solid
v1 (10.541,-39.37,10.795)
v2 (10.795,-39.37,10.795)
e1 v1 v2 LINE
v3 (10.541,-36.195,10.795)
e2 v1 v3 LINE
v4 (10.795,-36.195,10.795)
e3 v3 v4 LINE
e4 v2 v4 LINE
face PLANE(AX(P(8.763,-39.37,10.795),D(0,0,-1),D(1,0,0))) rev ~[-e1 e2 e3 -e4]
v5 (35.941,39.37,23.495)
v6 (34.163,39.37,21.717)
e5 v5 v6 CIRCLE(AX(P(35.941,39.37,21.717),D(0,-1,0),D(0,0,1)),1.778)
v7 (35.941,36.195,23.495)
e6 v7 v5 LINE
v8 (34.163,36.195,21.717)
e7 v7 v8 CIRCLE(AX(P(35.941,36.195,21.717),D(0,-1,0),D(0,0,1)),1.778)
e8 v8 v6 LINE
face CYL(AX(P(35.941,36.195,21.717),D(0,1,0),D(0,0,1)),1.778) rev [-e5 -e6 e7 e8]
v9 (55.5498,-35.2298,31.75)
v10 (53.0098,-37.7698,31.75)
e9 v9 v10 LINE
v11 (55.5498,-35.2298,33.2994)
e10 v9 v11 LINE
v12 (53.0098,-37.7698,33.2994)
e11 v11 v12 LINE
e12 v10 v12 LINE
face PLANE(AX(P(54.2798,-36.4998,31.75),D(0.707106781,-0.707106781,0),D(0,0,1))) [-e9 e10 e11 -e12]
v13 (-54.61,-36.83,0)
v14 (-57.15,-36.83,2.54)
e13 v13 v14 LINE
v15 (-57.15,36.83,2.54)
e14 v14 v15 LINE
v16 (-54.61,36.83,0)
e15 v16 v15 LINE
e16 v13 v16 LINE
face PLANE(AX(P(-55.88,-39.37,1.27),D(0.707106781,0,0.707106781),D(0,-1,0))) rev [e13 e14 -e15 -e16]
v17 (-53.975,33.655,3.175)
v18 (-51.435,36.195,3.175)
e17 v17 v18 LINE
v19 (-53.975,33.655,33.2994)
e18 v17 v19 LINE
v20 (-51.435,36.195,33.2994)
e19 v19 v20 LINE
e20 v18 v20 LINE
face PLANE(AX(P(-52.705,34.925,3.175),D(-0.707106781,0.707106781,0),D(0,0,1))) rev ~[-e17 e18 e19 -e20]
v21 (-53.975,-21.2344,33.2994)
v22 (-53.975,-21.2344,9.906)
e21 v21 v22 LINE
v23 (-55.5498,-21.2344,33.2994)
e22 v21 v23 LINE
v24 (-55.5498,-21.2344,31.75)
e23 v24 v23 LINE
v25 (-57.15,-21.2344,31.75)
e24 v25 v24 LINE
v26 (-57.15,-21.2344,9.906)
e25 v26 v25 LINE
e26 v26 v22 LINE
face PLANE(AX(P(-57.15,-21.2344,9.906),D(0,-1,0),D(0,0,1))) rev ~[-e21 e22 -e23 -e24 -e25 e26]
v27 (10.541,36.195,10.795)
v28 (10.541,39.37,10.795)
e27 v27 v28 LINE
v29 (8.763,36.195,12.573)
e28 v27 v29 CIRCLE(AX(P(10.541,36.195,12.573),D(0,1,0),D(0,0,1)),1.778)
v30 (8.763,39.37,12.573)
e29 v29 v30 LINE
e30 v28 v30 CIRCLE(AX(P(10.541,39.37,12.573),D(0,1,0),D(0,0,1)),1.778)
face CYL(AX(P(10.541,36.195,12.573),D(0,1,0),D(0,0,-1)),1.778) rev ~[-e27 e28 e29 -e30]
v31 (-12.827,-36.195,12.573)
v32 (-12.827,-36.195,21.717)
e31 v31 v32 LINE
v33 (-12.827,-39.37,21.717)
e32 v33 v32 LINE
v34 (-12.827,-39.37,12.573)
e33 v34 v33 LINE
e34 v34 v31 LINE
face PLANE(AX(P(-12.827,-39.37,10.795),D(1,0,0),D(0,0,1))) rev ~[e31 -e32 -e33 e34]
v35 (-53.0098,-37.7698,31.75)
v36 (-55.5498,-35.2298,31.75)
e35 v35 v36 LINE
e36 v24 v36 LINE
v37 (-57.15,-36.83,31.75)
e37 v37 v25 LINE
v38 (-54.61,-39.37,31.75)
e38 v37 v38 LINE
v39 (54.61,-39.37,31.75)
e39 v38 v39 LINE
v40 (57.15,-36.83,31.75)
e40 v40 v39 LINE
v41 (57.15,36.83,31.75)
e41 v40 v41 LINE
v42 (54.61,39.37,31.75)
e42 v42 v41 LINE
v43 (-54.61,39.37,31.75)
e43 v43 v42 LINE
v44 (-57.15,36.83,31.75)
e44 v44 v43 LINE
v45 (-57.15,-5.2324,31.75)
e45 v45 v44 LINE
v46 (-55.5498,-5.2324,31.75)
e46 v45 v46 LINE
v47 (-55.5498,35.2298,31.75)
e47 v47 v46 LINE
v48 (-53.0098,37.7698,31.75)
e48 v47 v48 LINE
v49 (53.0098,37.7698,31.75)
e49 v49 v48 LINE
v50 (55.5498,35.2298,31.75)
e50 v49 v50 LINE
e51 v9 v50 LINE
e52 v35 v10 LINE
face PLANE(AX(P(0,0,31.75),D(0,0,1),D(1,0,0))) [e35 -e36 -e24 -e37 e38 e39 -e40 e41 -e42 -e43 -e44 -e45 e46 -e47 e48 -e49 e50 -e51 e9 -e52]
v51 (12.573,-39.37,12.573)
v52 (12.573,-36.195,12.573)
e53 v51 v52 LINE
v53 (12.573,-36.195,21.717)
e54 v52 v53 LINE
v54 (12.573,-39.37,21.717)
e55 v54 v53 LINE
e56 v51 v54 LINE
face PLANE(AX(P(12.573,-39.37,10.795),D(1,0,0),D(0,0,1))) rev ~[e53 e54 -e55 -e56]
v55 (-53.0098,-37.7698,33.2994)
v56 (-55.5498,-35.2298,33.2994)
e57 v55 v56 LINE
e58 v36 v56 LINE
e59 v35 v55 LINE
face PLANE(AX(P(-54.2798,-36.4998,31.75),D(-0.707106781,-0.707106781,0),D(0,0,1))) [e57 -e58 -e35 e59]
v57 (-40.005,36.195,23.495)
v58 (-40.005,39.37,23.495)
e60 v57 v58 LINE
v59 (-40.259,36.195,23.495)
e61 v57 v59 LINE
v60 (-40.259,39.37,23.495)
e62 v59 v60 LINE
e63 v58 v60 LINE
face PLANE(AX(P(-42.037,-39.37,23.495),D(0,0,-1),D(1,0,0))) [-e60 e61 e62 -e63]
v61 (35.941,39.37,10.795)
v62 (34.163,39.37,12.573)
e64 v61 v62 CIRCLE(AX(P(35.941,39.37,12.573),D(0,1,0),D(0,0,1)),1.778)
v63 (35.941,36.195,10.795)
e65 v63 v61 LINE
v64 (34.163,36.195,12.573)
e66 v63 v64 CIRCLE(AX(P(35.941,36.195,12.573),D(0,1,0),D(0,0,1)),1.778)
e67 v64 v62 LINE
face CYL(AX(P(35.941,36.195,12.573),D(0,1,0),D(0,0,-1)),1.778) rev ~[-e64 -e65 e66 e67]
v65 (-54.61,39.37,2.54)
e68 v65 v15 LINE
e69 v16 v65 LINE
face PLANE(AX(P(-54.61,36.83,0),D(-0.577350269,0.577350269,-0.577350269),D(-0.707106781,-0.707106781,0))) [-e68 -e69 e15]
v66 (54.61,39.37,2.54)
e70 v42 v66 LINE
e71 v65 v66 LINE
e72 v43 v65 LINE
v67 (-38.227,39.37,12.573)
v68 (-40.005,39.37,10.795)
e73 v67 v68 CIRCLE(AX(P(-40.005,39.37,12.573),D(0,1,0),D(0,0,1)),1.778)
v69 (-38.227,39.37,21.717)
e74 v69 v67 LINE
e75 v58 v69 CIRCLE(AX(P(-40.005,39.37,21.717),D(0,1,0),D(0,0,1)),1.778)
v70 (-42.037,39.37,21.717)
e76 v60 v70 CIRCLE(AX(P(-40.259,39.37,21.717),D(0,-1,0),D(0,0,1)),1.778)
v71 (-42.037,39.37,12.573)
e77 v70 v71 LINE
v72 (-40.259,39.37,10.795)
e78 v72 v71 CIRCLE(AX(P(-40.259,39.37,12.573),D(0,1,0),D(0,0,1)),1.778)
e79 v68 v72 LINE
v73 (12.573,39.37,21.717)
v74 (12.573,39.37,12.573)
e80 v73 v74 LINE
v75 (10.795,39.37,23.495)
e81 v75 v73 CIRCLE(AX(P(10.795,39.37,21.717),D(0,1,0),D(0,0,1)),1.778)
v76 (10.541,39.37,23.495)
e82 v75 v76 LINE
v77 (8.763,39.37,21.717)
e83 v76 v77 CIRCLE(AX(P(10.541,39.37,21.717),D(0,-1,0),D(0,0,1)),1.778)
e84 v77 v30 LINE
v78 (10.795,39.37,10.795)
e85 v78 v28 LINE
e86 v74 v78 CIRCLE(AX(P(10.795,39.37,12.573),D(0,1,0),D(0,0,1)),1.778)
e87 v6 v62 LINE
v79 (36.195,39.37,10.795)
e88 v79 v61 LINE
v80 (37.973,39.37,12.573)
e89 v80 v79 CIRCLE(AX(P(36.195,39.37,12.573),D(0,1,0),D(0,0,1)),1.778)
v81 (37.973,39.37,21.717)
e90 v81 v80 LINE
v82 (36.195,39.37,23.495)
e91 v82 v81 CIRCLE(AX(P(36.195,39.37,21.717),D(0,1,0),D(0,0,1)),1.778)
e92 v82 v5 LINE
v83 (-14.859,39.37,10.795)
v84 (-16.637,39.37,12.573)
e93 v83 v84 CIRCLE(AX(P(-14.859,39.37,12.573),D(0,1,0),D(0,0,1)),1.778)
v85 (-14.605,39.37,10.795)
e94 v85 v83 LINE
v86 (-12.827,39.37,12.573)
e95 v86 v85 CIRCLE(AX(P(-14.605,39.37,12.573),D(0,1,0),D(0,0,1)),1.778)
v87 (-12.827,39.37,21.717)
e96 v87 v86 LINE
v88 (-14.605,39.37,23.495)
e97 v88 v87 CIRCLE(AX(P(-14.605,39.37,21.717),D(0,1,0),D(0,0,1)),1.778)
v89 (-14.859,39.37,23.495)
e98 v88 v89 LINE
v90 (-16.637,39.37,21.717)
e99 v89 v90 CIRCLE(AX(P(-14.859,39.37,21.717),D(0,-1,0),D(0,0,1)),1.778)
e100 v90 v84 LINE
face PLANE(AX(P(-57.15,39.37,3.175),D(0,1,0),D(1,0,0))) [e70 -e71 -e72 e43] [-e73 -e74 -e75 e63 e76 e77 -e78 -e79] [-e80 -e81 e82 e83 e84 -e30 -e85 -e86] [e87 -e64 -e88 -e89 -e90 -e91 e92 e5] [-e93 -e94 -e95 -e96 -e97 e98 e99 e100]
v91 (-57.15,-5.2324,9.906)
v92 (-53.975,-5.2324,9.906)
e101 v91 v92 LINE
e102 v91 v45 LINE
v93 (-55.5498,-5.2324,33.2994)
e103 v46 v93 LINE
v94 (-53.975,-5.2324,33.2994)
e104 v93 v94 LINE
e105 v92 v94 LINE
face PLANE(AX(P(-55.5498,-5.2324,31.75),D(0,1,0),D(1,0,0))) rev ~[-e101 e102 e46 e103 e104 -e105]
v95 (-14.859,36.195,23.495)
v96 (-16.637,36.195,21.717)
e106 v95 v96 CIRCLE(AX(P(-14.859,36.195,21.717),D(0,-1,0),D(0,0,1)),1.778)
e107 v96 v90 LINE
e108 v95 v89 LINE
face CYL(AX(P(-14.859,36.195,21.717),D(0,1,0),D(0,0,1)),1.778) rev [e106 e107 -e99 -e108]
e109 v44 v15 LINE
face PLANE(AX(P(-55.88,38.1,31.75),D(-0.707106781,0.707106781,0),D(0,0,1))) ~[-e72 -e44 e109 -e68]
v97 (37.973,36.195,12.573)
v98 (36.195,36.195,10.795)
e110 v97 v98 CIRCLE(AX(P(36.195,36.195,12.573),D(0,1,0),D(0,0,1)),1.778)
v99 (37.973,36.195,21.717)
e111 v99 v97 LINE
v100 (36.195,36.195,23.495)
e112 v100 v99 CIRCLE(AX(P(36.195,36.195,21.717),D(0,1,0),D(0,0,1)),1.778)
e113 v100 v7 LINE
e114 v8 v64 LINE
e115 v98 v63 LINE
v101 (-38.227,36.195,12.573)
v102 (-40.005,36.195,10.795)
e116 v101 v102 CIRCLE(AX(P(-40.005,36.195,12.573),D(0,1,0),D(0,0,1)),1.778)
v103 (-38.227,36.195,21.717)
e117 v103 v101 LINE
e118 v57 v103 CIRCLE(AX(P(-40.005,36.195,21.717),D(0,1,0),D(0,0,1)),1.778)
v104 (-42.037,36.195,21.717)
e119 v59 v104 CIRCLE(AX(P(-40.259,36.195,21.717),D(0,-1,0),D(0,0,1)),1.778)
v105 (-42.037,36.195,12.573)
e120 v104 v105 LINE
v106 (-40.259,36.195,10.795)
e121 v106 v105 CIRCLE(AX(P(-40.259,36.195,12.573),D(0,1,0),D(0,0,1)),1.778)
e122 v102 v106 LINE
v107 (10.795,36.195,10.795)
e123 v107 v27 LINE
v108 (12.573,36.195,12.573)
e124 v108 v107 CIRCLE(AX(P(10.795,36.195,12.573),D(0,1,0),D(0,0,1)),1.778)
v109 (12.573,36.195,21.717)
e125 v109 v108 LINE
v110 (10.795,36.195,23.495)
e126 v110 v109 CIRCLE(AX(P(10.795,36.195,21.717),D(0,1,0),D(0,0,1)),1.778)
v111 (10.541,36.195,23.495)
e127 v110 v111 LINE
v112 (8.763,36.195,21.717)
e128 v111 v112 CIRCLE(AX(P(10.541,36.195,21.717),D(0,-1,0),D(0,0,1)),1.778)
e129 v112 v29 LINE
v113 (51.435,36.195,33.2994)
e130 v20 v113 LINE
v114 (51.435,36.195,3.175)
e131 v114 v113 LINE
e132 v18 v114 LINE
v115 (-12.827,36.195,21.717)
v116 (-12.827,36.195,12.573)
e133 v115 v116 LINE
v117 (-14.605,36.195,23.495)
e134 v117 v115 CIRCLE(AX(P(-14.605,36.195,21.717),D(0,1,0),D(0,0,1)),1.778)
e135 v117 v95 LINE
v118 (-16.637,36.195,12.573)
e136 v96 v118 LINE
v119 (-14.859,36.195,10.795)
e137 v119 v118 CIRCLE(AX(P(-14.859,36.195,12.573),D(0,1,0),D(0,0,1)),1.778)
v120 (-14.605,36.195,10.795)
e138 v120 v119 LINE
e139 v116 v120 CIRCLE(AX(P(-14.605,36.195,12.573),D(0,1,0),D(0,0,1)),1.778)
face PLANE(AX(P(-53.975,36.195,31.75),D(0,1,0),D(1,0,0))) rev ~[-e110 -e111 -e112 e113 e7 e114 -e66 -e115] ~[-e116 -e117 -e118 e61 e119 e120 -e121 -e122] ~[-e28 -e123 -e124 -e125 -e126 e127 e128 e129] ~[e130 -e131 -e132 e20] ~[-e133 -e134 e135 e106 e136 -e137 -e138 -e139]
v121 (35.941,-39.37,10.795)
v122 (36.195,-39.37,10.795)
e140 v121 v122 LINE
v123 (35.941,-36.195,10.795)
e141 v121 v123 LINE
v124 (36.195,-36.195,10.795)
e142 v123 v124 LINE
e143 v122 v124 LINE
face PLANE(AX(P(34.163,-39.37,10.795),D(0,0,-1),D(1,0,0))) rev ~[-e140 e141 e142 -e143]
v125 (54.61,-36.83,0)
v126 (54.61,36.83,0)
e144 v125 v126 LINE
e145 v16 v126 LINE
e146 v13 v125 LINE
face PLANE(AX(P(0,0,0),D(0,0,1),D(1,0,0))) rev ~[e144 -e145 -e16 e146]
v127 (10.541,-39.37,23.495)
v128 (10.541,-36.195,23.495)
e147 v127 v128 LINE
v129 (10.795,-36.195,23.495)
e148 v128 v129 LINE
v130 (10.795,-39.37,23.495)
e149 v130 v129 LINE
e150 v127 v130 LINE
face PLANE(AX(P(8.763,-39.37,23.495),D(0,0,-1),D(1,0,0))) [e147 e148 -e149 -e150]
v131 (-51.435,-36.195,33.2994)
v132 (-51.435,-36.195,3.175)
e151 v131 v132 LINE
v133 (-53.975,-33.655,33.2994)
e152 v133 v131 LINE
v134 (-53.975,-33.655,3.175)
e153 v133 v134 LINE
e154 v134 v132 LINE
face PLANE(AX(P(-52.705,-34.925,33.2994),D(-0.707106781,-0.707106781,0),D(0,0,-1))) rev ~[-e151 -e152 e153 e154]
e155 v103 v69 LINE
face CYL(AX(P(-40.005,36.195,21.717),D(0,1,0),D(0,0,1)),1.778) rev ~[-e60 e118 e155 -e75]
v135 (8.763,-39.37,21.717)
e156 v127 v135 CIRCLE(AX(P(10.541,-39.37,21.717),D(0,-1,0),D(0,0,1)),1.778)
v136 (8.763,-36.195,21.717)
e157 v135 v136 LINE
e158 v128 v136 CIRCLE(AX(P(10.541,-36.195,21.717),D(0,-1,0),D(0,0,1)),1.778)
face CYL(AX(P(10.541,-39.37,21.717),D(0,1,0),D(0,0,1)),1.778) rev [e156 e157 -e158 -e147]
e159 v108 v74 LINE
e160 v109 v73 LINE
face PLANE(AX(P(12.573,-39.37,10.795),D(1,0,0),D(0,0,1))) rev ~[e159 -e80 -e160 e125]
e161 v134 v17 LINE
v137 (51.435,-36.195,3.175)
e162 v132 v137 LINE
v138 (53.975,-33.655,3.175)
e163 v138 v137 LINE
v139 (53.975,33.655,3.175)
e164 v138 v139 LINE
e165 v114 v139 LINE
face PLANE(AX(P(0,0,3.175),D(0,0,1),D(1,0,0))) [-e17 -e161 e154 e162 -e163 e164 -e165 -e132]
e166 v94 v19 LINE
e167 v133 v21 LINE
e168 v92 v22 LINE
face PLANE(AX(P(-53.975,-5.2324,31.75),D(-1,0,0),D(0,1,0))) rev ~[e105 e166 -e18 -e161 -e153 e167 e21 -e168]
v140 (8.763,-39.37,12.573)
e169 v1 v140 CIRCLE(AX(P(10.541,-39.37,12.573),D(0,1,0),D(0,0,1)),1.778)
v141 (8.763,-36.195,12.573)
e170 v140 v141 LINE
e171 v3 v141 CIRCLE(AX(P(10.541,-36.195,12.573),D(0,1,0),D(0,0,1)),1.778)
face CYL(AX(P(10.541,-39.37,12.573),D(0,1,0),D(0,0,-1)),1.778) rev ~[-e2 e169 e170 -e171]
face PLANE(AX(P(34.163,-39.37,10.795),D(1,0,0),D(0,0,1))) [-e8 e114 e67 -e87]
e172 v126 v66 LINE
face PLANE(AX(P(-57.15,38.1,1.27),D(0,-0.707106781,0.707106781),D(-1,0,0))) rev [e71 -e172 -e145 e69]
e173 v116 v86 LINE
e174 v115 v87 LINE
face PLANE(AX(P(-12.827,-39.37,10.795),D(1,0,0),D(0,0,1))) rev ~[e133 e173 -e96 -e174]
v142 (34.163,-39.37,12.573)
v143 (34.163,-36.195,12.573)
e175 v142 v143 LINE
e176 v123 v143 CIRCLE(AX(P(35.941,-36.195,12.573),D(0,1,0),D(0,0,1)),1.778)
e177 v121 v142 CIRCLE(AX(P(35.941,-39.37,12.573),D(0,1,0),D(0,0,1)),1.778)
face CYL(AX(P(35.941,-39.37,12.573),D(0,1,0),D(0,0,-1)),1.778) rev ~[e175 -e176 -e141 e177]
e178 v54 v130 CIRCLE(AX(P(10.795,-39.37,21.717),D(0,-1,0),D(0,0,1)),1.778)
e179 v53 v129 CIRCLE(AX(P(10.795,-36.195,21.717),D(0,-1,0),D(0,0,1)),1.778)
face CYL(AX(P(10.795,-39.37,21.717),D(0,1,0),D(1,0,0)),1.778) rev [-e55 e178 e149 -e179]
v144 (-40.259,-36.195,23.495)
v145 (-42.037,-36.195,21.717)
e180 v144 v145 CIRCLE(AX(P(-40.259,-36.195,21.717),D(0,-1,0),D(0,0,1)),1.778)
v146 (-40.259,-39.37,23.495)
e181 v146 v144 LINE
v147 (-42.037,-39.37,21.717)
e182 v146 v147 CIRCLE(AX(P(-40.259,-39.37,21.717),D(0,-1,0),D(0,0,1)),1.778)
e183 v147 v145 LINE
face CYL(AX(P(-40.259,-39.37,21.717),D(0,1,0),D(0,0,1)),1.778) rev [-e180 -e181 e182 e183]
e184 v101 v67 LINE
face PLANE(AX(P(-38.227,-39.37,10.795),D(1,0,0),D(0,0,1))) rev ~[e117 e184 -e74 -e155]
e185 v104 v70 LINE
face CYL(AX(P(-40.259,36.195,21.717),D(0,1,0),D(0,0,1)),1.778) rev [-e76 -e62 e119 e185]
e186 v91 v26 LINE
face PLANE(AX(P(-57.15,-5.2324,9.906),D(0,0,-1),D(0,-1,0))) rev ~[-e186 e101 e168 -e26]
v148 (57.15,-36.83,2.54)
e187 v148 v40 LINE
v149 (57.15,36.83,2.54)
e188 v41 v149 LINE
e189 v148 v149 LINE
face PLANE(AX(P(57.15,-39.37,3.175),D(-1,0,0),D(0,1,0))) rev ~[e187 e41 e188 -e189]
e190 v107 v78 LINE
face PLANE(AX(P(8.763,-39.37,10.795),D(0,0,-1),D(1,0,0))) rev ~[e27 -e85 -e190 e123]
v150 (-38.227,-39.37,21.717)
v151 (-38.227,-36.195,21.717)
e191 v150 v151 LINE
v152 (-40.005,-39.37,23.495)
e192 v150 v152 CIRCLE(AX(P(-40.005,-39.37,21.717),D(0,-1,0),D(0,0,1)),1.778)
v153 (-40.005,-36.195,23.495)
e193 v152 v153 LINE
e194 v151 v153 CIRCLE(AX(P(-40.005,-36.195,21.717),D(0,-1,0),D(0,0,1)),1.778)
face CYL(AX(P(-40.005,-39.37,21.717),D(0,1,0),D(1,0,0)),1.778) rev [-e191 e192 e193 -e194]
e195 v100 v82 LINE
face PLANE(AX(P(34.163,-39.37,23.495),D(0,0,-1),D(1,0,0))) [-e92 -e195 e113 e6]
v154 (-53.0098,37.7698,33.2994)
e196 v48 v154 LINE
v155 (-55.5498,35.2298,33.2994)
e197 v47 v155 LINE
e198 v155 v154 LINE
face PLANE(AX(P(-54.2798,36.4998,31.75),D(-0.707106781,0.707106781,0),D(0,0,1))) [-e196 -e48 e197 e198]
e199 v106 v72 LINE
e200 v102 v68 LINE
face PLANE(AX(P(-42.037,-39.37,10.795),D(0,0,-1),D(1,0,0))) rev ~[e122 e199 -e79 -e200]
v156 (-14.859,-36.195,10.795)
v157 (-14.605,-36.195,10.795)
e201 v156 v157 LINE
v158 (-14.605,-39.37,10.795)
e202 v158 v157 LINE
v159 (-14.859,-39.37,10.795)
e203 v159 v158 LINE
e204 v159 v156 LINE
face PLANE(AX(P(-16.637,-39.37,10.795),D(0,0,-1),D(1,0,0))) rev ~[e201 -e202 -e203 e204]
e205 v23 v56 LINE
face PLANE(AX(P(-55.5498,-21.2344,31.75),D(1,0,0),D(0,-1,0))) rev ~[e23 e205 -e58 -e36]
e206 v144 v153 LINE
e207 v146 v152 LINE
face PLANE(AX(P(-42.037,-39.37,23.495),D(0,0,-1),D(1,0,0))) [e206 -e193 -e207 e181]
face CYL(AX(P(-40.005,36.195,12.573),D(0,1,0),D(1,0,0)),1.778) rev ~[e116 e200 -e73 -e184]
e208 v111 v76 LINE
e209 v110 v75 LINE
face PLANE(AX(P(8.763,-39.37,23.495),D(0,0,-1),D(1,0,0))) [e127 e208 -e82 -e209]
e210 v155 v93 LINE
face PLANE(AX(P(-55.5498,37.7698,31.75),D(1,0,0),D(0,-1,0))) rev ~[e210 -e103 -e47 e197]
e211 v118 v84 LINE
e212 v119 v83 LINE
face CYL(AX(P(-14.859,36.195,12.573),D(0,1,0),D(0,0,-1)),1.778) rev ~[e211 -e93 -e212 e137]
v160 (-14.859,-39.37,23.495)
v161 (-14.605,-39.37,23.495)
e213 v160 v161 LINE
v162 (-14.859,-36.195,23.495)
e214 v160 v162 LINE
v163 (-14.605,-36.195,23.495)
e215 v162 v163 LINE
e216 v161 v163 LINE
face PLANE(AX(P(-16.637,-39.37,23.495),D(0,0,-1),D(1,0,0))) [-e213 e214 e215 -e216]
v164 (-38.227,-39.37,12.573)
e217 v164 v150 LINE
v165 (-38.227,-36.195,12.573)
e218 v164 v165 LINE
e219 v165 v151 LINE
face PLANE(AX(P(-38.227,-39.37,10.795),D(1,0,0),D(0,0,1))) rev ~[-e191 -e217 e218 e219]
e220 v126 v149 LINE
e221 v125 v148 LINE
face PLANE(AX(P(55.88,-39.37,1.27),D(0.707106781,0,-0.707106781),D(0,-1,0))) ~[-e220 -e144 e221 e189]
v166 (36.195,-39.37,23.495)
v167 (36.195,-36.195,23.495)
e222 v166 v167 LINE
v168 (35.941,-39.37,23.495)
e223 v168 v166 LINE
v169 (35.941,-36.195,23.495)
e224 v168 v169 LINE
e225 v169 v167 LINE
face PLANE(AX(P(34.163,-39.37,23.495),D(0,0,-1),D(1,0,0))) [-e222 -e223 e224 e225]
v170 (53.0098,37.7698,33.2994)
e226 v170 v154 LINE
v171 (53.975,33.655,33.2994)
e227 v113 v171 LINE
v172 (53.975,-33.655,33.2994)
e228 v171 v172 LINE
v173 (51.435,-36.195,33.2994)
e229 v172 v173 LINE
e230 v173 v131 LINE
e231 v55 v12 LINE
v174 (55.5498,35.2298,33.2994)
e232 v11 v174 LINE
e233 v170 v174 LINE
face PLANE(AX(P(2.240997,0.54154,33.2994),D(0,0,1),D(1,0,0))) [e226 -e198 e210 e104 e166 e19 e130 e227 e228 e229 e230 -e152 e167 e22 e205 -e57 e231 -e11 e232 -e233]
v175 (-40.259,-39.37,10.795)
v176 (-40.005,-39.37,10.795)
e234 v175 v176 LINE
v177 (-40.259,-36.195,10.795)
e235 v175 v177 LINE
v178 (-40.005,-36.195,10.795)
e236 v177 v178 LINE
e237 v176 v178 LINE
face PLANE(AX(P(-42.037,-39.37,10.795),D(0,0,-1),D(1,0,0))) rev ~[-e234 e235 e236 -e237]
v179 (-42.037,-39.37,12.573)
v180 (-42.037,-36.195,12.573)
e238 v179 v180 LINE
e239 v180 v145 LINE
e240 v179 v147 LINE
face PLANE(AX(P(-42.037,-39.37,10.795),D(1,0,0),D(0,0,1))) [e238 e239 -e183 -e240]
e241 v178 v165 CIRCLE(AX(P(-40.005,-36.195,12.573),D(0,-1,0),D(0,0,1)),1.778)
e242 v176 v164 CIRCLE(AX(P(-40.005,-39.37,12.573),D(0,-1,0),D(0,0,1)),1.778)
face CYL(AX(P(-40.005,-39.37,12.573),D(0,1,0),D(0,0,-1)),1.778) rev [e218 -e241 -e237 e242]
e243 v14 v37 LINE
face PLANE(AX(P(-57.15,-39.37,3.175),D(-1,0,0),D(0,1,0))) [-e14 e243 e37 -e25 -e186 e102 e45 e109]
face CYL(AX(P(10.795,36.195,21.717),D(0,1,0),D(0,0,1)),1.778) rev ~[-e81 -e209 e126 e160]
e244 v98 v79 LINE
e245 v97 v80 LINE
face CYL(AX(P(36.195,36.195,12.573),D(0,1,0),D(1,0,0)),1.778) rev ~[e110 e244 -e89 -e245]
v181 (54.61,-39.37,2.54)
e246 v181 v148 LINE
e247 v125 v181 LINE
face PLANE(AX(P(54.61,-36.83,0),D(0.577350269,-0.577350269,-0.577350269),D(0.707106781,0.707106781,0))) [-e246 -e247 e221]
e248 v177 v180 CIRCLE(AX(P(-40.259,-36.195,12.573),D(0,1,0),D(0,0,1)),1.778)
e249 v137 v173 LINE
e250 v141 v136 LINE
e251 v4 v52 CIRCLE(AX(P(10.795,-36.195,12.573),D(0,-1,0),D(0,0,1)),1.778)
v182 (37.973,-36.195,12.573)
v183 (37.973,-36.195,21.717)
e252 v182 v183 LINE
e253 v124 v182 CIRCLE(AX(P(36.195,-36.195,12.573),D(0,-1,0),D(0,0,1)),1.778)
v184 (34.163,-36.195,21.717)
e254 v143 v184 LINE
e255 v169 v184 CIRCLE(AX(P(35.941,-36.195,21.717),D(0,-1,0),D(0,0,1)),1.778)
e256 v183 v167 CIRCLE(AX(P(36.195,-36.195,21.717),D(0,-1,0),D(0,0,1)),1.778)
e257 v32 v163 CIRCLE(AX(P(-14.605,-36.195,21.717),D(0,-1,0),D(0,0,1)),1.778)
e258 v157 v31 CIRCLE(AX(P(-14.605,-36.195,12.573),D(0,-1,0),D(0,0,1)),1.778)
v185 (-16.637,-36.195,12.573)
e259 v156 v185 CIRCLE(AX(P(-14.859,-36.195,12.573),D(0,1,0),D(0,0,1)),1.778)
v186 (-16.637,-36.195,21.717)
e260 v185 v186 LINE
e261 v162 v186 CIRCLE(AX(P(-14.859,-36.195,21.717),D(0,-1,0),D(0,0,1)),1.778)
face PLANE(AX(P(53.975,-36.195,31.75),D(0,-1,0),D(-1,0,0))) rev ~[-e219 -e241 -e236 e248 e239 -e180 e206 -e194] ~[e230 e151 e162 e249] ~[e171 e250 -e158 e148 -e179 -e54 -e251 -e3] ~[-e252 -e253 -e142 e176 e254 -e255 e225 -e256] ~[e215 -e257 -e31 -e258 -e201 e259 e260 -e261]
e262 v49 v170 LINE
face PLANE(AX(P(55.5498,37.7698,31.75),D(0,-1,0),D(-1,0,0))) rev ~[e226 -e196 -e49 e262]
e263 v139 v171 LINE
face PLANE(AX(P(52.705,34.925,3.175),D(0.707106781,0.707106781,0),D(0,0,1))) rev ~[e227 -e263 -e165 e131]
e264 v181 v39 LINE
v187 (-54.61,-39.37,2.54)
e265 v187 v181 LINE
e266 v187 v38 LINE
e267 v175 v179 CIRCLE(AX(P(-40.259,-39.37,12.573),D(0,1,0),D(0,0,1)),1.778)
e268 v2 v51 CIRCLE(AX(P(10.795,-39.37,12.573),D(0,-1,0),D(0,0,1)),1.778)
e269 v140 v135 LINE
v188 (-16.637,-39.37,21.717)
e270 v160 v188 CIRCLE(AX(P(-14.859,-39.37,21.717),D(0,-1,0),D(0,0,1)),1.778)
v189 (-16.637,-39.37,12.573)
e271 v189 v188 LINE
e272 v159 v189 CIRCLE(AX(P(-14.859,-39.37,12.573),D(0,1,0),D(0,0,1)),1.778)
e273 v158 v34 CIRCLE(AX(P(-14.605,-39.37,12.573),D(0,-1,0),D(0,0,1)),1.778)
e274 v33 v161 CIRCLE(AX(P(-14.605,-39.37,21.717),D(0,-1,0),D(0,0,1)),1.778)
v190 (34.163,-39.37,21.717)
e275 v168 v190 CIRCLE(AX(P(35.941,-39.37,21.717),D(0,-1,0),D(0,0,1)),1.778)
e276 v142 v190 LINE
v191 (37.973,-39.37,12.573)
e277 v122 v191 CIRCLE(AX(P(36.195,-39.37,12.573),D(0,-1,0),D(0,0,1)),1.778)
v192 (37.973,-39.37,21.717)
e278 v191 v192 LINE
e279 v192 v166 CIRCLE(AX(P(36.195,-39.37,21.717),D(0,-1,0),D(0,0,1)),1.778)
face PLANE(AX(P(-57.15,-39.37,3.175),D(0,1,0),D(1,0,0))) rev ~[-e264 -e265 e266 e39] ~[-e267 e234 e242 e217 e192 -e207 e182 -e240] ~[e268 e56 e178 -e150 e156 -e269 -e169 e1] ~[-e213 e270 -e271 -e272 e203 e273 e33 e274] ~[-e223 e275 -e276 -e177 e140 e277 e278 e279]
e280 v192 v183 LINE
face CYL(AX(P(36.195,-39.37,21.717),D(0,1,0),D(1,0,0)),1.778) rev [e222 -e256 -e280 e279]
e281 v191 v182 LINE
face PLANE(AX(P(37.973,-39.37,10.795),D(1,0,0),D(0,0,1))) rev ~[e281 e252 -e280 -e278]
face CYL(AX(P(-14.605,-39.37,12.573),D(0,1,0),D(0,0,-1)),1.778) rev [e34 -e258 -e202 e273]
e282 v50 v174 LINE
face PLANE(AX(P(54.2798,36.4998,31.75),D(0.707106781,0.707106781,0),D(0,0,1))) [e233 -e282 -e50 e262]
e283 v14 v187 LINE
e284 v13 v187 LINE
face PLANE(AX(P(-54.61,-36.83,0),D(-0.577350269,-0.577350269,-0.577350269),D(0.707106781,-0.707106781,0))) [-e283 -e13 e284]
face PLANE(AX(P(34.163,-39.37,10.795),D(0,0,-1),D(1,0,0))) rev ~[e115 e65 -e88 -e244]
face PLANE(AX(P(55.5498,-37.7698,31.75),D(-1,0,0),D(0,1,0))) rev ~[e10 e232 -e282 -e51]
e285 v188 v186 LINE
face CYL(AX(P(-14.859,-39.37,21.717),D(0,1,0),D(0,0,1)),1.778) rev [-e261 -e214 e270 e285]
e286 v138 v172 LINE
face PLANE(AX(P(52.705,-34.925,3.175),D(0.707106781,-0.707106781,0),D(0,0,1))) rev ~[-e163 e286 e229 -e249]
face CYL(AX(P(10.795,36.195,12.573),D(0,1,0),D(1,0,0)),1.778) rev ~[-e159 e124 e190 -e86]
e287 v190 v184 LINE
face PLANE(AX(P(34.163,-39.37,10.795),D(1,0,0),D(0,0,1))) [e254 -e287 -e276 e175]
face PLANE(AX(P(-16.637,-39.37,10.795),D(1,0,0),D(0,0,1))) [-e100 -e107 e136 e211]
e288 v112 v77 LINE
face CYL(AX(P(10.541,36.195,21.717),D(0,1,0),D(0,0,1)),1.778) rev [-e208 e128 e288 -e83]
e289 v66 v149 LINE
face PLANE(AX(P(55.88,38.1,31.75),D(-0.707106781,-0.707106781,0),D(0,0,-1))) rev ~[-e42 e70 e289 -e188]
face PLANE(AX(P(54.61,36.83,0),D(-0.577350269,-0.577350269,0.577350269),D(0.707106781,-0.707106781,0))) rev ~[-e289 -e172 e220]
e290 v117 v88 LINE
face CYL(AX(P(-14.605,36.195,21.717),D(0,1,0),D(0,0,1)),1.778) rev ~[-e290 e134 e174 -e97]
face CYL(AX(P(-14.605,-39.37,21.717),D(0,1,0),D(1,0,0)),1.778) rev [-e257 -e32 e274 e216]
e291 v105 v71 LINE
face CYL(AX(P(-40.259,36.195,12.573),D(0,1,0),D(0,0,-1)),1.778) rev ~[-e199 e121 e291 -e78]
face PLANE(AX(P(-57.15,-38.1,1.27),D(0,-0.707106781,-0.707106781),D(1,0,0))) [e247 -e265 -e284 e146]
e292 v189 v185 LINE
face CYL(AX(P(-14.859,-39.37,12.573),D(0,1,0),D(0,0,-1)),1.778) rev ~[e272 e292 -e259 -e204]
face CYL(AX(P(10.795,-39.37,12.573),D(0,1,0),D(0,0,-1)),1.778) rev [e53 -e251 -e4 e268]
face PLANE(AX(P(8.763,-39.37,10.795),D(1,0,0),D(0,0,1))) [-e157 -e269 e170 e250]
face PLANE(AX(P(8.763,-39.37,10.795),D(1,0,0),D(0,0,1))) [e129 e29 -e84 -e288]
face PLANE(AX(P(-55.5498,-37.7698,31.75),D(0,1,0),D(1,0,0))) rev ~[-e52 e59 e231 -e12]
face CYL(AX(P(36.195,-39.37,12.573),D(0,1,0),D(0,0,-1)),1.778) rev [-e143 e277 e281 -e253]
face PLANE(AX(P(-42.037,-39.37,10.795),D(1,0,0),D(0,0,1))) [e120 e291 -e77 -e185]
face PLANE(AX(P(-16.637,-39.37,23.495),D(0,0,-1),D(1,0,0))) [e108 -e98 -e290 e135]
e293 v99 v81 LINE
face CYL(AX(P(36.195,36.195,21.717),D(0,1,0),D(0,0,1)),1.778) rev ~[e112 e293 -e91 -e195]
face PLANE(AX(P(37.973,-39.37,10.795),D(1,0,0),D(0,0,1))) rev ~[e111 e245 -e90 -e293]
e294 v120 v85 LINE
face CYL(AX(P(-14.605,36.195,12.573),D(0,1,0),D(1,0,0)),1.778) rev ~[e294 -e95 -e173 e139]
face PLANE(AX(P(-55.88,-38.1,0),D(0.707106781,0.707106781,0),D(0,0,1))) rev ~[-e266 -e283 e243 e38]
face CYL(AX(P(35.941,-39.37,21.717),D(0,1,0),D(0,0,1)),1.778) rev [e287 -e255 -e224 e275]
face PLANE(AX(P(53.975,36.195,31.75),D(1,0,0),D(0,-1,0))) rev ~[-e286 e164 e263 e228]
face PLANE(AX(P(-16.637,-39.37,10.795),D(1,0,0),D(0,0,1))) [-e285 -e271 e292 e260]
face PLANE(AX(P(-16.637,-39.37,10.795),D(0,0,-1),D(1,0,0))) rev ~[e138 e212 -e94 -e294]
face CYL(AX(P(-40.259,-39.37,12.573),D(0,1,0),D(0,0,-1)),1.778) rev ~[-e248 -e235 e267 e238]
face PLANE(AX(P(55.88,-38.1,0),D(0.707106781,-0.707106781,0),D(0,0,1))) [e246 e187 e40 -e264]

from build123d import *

# Parameters (mm, degrees)
F0_W      = 114.3
F0_H      = 78.74
F1_DEPTH  = 3.175
F2_W      = 114.3
F2_H      = 78.74
F2_W_2    = 107.95
F2_H_2    = 72.39
F3_DEPTH  = 28.575
F4_W      = 16.002
F4_H      = 21.844
F5_DEPTH  = 3.175
F7_DEPTH  = 1.5494
F8_SIZE   = 2.54
F9_SIZE   = 2.54
F10_SIZE  = 2.54
F11_W     = 3.81
F11_H     = 12.7
F12_DEPTH = 78.741
F13_R     = 1.778


with BuildPart() as f1:
    # F0 (on Top) → F1 (new body)
    with BuildSketch(Plane.XY):
        Rectangle(F0_W, F0_H)
    extrude(amount=F1_DEPTH)

    # F2 (on face) → F3 (join)
    with BuildSketch(Plane.XY.offset(3.175)):
        Rectangle(F2_W, F2_H)
        Rectangle(F2_W_2, F2_H_2, mode=Mode.SUBTRACT)
    extrude(amount=F3_DEPTH)

    # F4 (on face) → F5 (cut, through all)
    with BuildSketch(Plane(origin=(-57.15, 0, 0), x_dir=(0, -1, 0), z_dir=(-1, 0, 0))):
        with Locations((13.2334, 20.828)):
            Rectangle(F4_W, F4_H)
    extrude(amount=-F5_DEPTH, mode=Mode.SUBTRACT)

    # F6 (on face) → F7 (join)
    with BuildSketch(Plane.XY.offset(31.75)):
        Polygon((55.5498, 37.7698), (-55.5498, 37.7698), (-55.5498, -5.2324), (-53.975, -5.2324), (-53.975, 36.195), (53.975, 36.195), (53.975, -36.195), (-53.975, -36.195), (-53.975, -21.2344), (-55.5498, -21.2344), (-55.5498, -37.7698), (55.5498, -37.7698), align=None)
    extrude(amount=F7_DEPTH)

    # F8
    f8_edges = [f1.edges().sort_by_distance(p)[0] for p in [
        (57.15, 39.37, 15.875),
        (57.15, -39.37, 15.875),
        (-57.15, -39.37, 15.875),
        (-57.15, 39.37, 15.875),
        (0, 39.37, 0),
        (-57.15, 0, 0),
        (0, -39.37, 0),
        (57.15, 0, 0),
    ]]
    chamfer(f8_edges, length=F8_SIZE)

    # F9
    f9_edges = [f1.edges().sort_by_distance(p)[0] for p in [
        (-53.975, 36.195, 18.2372),
        (53.975, 36.195, 18.2372),
        (53.975, -36.195, 18.2372),
        (-53.975, -36.195, 18.2372),
    ]]
    chamfer(f9_edges, length=F9_SIZE)

    # F10
    f10_edges = [f1.edges().sort_by_distance(p)[0] for p in [
        (55.5498, 37.7698, 32.5247),
        (-55.5498, 37.7698, 32.5247),
        (-55.5498, -37.7698, 32.5247),
        (55.5498, -37.7698, 32.5247),
    ]]
    chamfer(f10_edges, length=F10_SIZE)

    # F11 (on face) → F12 (cut, through all)
    with BuildSketch(Plane.XZ.offset(39.37)):
        with Locations((-40.132, 17.145)):
            Rectangle(F11_W, F11_H)
        with Locations((-14.732, 17.145)):
            Rectangle(F11_W, F11_H)
        with Locations((10.668, 17.145)):
            Rectangle(F11_W, F11_H)
        with Locations((36.068, 17.145)):
            Rectangle(F11_W, F11_H)
    extrude(amount=-F12_DEPTH, mode=Mode.SUBTRACT)

    # F13
    f13_edges = [f1.edges().sort_by_distance(p)[0] for p in [
        (-42.037, -37.7825, 23.495),
        (-16.637, -37.7825, 23.495),
        (8.763, -37.7825, 23.495),
        (34.163, -37.7825, 23.495),
        (-38.227, -37.7825, 23.495),
        (-12.827, -37.7825, 23.495),
        (12.573, -37.7825, 23.495),
        (37.973, -37.7825, 23.495),
        (-42.037, -37.7825, 10.795),
        (-16.637, -37.7825, 10.795),
        (8.763, -37.7825, 10.795),
        (34.163, -37.7825, 10.795),
        (-38.227, -37.7825, 10.795),
        (-12.827, -37.7825, 10.795),
        (12.573, -37.7825, 10.795),
        (37.973, -37.7825, 10.795),
        (37.973, 37.7825, 23.495),
        (12.573, 37.7825, 23.495),
        (-12.827, 37.7825, 23.495),
        (-38.227, 37.7825, 23.495),
        (34.163, 37.7825, 23.495),
        (8.763, 37.7825, 23.495),
        (-16.637, 37.7825, 23.495),
        (-42.037, 37.7825, 23.495),
        (34.163, 37.7825, 10.795),
        (8.763, 37.7825, 10.795),
        (-16.637, 37.7825, 10.795),
        (-42.037, 37.7825, 10.795),
        (-38.227, 37.7825, 10.795),
        (-12.827, 37.7825, 10.795),
        (12.573, 37.7825, 10.795),
        (37.973, 37.7825, 10.795),
    ]]
    fillet(f13_edges, radius=F13_R)


solid = f1.part
